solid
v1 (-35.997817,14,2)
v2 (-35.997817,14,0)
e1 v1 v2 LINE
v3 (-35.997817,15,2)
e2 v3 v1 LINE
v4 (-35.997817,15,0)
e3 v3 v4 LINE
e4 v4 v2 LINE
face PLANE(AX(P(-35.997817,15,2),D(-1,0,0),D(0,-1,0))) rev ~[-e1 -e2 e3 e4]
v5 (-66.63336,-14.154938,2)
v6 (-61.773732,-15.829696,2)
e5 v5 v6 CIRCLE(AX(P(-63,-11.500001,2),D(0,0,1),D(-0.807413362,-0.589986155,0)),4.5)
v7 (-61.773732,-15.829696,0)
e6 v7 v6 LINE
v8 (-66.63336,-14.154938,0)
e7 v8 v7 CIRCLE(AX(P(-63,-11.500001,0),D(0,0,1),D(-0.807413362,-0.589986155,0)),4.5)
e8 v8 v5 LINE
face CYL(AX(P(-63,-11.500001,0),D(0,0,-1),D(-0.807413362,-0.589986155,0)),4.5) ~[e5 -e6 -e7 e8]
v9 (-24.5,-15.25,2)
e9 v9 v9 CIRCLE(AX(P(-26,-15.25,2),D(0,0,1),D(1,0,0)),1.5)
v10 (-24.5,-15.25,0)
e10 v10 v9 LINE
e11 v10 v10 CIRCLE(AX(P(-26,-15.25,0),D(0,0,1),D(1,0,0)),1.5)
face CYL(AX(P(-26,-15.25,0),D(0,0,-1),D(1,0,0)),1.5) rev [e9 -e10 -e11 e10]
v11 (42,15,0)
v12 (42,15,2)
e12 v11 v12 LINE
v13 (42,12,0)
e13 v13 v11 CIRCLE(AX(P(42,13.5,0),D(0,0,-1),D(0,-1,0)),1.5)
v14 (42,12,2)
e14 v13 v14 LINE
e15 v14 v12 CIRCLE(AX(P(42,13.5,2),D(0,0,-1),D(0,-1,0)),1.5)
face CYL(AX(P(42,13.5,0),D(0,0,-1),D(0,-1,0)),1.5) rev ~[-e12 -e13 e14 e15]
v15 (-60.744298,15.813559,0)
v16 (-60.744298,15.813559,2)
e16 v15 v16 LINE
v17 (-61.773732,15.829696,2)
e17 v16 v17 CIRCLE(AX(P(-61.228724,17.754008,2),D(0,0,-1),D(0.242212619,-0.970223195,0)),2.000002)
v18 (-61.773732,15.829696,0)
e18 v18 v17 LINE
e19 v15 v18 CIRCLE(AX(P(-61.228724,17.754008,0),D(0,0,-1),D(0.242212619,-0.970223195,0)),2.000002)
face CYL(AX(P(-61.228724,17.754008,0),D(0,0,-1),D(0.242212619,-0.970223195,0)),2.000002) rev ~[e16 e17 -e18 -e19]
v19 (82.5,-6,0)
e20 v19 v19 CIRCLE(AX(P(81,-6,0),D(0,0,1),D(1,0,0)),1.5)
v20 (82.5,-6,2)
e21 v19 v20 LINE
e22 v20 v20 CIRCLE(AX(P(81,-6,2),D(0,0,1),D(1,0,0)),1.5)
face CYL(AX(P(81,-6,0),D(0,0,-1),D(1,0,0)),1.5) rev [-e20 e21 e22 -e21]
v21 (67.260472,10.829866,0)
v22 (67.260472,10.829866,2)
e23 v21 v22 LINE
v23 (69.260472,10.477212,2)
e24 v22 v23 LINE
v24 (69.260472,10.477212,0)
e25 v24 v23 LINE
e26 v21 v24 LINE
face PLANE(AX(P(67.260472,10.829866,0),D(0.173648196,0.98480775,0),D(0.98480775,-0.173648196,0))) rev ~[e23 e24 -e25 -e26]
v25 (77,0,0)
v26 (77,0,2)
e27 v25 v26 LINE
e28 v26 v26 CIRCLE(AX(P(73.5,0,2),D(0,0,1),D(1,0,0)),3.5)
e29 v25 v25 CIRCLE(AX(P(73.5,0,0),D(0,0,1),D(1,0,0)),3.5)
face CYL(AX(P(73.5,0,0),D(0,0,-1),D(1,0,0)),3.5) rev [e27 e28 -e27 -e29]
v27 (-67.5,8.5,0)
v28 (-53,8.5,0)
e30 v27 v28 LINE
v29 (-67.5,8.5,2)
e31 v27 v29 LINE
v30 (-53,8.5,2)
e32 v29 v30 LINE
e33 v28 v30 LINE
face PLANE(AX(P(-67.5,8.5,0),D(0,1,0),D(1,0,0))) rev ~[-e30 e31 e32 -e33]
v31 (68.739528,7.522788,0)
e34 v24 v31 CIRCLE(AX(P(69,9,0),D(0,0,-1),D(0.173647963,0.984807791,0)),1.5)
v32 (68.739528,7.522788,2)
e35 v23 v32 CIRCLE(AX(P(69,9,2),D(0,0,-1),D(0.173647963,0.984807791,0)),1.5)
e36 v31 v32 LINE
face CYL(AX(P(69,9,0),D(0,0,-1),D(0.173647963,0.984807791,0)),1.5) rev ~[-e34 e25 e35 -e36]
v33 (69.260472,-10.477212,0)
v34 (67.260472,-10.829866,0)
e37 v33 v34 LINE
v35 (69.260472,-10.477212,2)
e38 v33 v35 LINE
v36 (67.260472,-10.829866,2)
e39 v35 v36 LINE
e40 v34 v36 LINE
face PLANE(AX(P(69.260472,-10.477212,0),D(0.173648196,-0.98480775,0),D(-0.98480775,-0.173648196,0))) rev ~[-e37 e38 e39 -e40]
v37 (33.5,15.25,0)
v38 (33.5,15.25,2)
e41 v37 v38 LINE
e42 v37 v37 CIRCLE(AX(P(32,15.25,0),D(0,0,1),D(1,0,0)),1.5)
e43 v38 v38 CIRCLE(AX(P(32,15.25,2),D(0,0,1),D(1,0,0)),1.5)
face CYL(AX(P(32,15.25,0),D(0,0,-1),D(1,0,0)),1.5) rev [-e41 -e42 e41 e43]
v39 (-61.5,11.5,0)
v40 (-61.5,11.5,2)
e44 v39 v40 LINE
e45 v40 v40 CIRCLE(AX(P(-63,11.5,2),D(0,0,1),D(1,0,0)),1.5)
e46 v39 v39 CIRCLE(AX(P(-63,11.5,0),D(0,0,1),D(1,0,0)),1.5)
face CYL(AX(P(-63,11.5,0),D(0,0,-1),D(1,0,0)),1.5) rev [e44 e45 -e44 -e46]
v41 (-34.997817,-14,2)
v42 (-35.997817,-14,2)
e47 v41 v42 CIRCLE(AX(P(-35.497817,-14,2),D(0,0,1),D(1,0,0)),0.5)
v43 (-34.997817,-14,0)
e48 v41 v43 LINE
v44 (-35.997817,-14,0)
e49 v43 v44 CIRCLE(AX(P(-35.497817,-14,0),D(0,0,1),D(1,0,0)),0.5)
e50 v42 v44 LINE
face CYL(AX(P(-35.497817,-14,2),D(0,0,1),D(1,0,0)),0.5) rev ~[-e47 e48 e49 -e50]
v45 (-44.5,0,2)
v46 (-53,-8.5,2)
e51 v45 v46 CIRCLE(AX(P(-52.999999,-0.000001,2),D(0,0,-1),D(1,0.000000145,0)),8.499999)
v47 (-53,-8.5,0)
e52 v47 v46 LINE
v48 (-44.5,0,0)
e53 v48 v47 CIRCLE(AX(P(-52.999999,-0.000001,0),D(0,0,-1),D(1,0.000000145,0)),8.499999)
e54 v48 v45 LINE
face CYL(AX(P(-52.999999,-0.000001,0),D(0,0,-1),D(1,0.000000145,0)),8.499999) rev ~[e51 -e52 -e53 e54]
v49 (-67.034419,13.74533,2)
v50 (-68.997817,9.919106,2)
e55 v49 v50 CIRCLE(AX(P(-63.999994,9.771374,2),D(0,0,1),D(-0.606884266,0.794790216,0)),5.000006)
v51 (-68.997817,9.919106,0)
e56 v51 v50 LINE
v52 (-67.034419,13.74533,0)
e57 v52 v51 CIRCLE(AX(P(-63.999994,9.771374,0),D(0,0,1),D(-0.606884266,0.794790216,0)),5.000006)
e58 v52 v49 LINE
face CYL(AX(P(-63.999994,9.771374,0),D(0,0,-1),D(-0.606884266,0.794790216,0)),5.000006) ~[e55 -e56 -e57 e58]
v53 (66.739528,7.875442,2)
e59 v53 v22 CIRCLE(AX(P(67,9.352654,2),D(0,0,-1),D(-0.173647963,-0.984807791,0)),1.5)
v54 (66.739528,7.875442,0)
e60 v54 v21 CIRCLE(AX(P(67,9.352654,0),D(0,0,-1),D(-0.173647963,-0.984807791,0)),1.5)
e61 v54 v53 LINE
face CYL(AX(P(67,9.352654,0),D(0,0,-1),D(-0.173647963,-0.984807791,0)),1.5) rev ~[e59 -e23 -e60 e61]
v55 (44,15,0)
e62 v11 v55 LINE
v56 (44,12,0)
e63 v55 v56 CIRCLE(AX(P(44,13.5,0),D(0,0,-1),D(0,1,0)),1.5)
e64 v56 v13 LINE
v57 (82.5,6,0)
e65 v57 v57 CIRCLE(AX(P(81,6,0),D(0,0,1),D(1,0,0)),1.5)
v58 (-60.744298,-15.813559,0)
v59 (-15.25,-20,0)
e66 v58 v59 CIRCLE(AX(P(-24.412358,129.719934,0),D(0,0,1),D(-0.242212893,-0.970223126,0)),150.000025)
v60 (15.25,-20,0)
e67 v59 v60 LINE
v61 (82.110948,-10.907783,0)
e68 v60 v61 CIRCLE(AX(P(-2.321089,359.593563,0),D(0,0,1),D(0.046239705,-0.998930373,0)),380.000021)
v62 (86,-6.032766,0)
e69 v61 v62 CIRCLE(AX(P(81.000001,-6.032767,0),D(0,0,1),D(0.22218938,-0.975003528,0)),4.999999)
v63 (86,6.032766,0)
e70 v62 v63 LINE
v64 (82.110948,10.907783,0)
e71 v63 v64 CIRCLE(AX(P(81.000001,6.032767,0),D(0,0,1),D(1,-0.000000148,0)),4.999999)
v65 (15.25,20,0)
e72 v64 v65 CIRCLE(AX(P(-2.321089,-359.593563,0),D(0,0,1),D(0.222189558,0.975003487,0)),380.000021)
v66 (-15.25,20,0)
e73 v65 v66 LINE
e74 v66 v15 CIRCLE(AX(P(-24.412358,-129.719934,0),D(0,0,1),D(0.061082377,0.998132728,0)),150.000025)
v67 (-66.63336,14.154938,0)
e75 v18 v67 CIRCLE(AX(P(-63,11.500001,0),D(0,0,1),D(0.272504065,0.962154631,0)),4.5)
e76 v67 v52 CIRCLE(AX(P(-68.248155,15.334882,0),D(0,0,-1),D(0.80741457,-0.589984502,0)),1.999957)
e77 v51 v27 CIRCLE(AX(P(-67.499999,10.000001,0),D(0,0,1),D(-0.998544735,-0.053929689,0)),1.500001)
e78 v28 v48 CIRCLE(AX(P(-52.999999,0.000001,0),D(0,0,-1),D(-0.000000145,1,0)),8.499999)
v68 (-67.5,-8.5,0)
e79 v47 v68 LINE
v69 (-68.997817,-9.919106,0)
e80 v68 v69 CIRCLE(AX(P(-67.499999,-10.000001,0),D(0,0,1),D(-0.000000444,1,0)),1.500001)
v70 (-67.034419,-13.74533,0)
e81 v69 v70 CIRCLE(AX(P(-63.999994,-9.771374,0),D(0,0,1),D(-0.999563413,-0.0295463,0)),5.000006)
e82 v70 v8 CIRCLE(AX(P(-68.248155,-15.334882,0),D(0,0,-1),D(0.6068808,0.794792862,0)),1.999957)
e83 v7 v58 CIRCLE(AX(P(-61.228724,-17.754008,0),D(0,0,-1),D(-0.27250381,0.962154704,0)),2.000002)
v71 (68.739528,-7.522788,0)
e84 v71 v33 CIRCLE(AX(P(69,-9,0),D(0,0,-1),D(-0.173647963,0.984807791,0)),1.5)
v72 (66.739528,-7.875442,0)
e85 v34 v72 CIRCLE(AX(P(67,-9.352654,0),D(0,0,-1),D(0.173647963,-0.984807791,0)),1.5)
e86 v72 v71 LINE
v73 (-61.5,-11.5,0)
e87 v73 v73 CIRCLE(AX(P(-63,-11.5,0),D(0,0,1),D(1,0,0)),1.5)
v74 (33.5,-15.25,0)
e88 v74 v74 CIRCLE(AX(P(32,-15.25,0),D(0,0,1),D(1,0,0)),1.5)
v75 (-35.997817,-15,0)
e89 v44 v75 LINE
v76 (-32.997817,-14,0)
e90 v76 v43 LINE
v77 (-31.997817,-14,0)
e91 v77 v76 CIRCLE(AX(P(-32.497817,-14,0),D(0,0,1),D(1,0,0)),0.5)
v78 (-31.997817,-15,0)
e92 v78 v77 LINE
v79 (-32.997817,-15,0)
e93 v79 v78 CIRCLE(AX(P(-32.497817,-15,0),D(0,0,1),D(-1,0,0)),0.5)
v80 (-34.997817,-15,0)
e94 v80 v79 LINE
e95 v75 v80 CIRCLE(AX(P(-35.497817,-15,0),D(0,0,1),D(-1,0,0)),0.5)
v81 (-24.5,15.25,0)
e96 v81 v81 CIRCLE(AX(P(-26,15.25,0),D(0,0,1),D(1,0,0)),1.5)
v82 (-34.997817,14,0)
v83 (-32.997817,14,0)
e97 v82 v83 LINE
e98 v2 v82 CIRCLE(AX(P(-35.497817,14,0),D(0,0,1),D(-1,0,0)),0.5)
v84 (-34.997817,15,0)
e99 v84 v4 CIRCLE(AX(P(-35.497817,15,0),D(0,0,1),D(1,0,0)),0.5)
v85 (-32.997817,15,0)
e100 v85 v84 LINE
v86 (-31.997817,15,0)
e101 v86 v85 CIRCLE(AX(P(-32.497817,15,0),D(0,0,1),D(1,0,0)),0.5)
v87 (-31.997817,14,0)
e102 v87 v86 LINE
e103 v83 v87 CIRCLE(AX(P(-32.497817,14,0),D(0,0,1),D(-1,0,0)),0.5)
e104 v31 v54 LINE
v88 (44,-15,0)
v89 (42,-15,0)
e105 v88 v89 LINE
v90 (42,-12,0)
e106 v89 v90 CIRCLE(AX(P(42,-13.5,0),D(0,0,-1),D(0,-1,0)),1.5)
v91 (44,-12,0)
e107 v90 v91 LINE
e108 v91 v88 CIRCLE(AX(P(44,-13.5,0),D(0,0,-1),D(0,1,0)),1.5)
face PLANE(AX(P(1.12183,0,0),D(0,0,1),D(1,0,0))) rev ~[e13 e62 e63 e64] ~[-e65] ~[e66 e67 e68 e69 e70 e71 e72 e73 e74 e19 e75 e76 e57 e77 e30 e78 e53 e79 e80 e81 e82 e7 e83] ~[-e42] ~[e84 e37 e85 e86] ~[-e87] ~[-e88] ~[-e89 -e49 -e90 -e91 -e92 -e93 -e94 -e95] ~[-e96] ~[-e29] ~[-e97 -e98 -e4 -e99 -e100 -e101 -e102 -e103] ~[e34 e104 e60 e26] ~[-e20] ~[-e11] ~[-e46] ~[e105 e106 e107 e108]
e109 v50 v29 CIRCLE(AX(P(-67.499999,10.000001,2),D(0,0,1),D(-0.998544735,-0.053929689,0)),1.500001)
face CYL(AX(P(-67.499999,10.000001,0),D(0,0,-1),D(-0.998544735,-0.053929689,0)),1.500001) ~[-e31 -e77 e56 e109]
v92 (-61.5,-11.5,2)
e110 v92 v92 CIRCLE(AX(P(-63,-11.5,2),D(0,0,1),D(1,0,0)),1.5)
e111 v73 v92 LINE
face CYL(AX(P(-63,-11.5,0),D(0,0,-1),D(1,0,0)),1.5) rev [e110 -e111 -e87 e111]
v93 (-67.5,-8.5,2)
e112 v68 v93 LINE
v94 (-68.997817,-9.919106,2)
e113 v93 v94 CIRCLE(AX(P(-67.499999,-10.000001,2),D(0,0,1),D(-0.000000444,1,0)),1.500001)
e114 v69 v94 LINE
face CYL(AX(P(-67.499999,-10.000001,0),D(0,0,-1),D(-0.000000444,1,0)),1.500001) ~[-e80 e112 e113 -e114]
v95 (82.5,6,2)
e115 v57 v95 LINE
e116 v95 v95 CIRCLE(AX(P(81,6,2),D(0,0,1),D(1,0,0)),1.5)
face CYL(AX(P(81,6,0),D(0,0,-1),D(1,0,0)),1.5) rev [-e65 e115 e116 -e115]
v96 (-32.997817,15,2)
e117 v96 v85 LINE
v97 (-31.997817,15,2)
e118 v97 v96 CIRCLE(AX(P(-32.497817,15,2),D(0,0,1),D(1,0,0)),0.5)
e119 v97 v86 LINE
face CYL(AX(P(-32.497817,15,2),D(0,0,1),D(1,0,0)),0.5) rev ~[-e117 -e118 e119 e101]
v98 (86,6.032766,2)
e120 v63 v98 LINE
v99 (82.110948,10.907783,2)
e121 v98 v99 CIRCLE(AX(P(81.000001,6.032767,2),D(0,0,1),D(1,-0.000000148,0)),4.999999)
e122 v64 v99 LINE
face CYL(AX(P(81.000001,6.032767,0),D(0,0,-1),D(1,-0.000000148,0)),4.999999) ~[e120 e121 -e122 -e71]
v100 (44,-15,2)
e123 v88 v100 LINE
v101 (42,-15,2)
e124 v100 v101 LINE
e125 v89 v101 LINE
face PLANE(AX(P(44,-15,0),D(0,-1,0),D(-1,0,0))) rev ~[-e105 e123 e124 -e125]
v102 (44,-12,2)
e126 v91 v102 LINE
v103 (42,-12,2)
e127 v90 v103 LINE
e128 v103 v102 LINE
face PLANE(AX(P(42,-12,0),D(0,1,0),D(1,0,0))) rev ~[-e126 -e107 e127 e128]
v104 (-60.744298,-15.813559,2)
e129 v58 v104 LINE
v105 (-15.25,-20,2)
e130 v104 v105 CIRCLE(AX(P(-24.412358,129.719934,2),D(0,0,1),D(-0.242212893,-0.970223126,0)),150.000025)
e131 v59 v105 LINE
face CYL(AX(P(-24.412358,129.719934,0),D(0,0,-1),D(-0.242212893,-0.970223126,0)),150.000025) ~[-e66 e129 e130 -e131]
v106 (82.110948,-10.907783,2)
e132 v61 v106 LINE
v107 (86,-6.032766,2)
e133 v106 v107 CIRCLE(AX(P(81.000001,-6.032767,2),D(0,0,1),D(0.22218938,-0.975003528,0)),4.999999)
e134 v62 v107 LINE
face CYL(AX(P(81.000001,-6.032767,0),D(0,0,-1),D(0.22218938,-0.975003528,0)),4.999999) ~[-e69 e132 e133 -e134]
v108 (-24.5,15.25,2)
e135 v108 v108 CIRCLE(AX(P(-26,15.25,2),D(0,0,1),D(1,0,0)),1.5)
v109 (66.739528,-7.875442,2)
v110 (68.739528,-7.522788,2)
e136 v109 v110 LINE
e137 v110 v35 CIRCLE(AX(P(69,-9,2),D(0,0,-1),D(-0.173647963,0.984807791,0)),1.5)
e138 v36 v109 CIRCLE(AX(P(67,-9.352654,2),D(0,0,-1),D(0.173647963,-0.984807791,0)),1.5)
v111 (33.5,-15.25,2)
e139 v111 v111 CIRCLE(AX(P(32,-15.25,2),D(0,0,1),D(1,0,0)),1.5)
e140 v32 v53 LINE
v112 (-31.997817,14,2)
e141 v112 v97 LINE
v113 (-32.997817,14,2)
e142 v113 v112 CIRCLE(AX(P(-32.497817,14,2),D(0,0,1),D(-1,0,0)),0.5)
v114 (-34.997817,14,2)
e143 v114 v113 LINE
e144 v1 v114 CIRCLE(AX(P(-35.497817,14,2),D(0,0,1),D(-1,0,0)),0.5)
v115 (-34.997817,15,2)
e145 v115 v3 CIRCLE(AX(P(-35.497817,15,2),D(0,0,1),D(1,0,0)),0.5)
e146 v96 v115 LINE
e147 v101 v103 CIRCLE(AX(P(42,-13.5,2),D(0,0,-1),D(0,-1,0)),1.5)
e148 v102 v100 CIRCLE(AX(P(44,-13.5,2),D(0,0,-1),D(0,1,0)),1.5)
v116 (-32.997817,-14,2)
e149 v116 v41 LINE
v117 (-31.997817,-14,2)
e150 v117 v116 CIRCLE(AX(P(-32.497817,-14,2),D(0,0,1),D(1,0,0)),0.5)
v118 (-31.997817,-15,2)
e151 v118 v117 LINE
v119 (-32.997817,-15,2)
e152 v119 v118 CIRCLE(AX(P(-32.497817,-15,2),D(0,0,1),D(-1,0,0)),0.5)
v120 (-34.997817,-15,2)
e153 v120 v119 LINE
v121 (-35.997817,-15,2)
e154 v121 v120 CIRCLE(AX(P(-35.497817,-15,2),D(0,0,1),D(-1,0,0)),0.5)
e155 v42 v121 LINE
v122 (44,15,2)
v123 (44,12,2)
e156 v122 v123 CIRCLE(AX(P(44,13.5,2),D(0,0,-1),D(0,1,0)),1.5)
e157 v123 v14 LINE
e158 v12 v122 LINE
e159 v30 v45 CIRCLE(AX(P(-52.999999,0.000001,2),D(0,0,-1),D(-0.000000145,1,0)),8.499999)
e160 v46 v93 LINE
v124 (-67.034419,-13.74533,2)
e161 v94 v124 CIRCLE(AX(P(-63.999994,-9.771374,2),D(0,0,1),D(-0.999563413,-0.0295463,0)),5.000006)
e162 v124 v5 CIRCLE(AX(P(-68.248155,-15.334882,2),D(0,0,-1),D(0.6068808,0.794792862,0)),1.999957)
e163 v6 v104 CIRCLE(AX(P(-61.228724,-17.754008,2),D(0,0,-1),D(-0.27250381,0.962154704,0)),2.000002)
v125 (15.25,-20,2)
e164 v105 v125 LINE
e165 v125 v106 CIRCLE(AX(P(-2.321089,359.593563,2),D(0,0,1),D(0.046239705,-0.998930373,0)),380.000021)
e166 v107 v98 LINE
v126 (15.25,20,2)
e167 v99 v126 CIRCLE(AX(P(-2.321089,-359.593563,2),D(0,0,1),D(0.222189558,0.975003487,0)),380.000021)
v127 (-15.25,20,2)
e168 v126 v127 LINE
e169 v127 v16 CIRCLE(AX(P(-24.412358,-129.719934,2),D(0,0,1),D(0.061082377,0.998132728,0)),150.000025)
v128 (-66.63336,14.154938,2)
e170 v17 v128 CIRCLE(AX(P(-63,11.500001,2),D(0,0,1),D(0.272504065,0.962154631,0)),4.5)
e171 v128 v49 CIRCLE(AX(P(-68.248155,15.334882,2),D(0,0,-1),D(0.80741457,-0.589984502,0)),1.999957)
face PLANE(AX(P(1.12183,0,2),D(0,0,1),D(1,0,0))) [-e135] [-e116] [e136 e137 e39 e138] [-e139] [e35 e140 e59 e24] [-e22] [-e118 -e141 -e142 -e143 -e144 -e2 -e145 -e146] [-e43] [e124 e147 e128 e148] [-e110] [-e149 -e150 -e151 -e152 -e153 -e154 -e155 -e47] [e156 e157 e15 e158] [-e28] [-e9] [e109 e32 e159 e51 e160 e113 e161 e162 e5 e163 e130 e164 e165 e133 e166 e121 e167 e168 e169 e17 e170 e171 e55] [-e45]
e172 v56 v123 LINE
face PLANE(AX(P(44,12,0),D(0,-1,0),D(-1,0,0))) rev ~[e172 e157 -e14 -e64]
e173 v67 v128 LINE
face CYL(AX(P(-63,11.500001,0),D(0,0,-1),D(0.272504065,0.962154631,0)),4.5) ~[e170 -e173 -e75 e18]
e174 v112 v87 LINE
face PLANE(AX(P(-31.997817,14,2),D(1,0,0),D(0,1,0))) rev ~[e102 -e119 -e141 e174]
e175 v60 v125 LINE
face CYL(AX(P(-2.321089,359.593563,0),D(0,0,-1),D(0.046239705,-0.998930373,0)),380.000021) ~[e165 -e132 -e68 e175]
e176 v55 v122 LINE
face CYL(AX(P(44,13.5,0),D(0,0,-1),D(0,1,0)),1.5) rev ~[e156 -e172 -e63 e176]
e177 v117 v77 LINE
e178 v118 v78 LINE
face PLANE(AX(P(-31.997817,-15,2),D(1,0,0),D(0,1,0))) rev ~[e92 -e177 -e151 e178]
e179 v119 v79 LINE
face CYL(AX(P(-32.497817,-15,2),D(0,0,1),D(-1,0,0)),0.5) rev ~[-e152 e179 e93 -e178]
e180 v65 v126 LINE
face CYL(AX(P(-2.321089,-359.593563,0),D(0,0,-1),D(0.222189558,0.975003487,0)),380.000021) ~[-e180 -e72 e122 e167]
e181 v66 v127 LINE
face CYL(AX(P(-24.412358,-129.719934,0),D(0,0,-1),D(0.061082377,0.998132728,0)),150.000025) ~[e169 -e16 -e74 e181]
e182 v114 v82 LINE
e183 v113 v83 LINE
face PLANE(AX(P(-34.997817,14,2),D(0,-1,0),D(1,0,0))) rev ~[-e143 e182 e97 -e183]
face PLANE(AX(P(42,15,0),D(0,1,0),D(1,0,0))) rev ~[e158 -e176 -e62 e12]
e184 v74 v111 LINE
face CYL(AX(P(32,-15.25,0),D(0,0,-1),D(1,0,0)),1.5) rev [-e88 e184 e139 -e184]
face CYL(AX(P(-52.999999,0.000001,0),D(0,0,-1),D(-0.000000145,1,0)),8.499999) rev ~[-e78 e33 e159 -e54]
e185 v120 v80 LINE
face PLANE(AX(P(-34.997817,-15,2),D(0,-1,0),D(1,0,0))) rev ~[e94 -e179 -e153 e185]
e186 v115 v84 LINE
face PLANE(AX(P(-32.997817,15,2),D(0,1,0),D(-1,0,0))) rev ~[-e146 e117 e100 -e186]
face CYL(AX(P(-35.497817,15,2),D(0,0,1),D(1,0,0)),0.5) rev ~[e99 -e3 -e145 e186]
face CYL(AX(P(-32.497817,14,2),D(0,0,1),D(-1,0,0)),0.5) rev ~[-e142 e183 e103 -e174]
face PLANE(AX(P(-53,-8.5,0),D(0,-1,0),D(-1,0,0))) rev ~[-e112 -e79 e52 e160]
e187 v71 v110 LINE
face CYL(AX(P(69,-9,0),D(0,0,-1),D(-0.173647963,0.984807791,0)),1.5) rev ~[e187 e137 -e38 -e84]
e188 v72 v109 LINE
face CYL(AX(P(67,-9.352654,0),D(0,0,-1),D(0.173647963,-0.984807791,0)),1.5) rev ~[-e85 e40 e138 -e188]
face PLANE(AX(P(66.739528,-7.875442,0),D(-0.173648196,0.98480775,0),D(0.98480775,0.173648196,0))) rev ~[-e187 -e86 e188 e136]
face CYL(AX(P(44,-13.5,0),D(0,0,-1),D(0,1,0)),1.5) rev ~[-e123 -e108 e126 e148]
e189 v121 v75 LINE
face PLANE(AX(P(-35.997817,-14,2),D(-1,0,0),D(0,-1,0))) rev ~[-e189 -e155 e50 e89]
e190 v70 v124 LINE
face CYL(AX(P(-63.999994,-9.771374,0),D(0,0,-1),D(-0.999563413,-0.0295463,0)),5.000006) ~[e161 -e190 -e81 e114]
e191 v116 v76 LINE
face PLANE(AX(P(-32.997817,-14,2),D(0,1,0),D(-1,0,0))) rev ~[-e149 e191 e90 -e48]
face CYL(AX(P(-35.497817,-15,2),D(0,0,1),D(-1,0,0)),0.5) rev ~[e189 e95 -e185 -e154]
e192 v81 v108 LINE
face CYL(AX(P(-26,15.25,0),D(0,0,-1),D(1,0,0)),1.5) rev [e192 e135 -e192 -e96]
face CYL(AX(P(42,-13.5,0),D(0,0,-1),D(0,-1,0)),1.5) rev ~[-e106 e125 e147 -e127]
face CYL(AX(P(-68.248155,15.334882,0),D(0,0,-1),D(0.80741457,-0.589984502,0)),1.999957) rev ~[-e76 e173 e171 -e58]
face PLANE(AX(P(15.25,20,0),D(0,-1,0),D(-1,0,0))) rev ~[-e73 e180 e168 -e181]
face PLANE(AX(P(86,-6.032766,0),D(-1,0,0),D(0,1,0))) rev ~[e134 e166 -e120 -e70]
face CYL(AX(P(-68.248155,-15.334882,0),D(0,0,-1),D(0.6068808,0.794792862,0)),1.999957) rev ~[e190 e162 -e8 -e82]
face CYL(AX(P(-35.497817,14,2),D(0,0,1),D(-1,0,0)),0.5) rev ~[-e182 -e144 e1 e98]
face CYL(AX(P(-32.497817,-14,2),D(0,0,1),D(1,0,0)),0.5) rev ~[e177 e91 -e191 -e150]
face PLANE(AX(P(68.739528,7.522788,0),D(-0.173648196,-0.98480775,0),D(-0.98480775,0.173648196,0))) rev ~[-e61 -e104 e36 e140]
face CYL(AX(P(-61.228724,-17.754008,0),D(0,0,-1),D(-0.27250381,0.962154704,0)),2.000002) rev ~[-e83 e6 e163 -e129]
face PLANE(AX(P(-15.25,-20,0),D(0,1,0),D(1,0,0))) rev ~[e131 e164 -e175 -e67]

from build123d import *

# Parameters (mm, degrees)
F0_R     = 1.5
F0_R_2   = 3.5
F1_DEPTH = 2
F3_DEPTH = 25


with BuildPart() as f1:
    # F0 (on Top) → F1 (new body)
    with BuildSketch(Plane.XY):
        with BuildLine():
            ThreePointArc((-67.034419, 13.74533), (-68.448505, 12.054094), (-68.997817, 9.919106))
            ThreePointArc((-68.997817, 9.919106), (-68.531663, 8.911115), (-67.5, 8.5))
            Line((-67.5, 8.5), (-53, 8.5))
            ThreePointArc((-53, 8.5), (-46.989592, 6.010408), (-44.5, 0))
            ThreePointArc((-44.5, 0), (-46.989592, -6.010408), (-53, -8.5))
            Line((-53, -8.5), (-67.5, -8.5))
            ThreePointArc((-67.5, -8.5), (-68.531663, -8.911115), (-68.997817, -9.919106))
            ThreePointArc((-68.997817, -9.919106), (-68.448505, -12.054094), (-67.034419, -13.74533))
            ThreePointArc((-67.034419, -13.74533), (-66.819137, -13.93569), (-66.63336, -14.154938))
            ThreePointArc((-66.63336, -14.154938), (-64.466194, -15.754442), (-61.773732, -15.829696))
            ThreePointArc((-61.773732, -15.829696), (-61.260071, -15.754251), (-60.744298, -15.813559))
            ThreePointArc((-60.744298, -15.813559), (-38.15747, -19.649003), (-15.25, -20))
            Line((-15.25, -20), (15.25, -20))
            ThreePointArc((15.25, -20), (48.882685, -16.940884), (82.110948, -10.907783))
            ThreePointArc((82.110948, -10.907783), (84.908628, -9.150879), (86, -6.032766))
            Line((86, -6.032766), (86, 0))
            Line((86, 0), (86, 6.032766))
            ThreePointArc((86, 6.032766), (84.908628, 9.150879), (82.110948, 10.907783))
            ThreePointArc((82.110948, 10.907783), (48.882685, 16.940884), (15.25, 20))
            Line((15.25, 20), (-15.25, 20))
            ThreePointArc((-15.25, 20), (-38.15747, 19.649003), (-60.744298, 15.813559))
            ThreePointArc((-60.744298, 15.813559), (-61.260071, 15.754251), (-61.773732, 15.829696))
            ThreePointArc((-61.773732, 15.829696), (-64.466194, 15.754442), (-66.63336, 14.154938))
            ThreePointArc((-66.63336, 14.154938), (-66.819137, 13.93569), (-67.034419, 13.74533))
        make_face()
        with Locations((-63, -11.5)):
            Circle(F0_R, mode=Mode.SUBTRACT)
        with Locations((-26, -15.25)):
            Circle(F0_R, mode=Mode.SUBTRACT)
        with Locations((32, -15.25)):
            Circle(F0_R, mode=Mode.SUBTRACT)
        with BuildLine():
            Line((42, -12), (44, -12))
            ThreePointArc((44, -12), (45.5, -13.5), (44, -15))
            Line((44, -15), (42, -15))
            ThreePointArc((42, -15), (40.5, -13.5), (42, -12))
        make_face(mode=Mode.SUBTRACT)
        with BuildLine():
            Line((66.739528, -7.875442), (68.739528, -7.522788))
            ThreePointArc((68.739528, -7.522788), (70.477212, -8.739528), (69.260472, -10.477212))
            Line((69.260472, -10.477212), (67.260472, -10.829866))
            ThreePointArc((67.260472, -10.829866), (65.522788, -9.613126), (66.739528, -7.875442))
        make_face(mode=Mode.SUBTRACT)
        with Locations((81, -6)):
            Circle(F0_R, mode=Mode.SUBTRACT)
        with Locations((-63, 11.5)):
            Circle(F0_R, mode=Mode.SUBTRACT)
        with Locations((-26, 15.25)):
            Circle(F0_R, mode=Mode.SUBTRACT)
        with Locations((73.5, 0)):
            Circle(F0_R_2, mode=Mode.SUBTRACT)
        with Locations((81, 6)):
            Circle(F0_R, mode=Mode.SUBTRACT)
        with BuildLine():
            ThreePointArc((66.739528, 7.875442), (65.522788, 9.613126), (67.260472, 10.829866))
            Line((67.260472, 10.829866), (69.260472, 10.477212))
            ThreePointArc((69.260472, 10.477212), (70.477212, 8.739528), (68.739528, 7.522788))
            Line((68.739528, 7.522788), (66.739528, 7.875442))
        make_face(mode=Mode.SUBTRACT)
        with BuildLine():
            ThreePointArc((42, 12), (40.5, 13.5), (42, 15))
            Line((42, 15), (44, 15))
            ThreePointArc((44, 15), (45.5, 13.5), (44, 12))
            Line((44, 12), (42, 12))
        make_face(mode=Mode.SUBTRACT)
        with Locations((32, 15.25)):
            Circle(F0_R, mode=Mode.SUBTRACT)
    extrude(amount=F1_DEPTH)

    # F2 (on face) → F3 (cut)
    with BuildSketch(Plane.XY.offset(2)):
        with BuildLine():
            Line((-32.997817, 15), (-34.997817, 15))
            ThreePointArc((-34.997817, 15), (-35.497817, 15.5), (-35.997817, 15))
            Line((-35.997817, 15), (-35.997817, 14))
            ThreePointArc((-35.997817, 14), (-35.497817, 13.5), (-34.997817, 14))
            Line((-34.997817, 14), (-32.997817, 14))
            ThreePointArc((-32.997817, 14), (-32.497817, 13.5), (-31.997817, 14))
            Line((-31.997817, 14), (-31.997817, 15))
            ThreePointArc((-31.997817, 15), (-32.497817, 15.5), (-32.997817, 15))
        make_face()
        with BuildLine():
            Line((-35.997817, -14), (-35.997817, -15))
            ThreePointArc((-35.997817, -15), (-35.497817, -15.5), (-34.997817, -15))
            Line((-34.997817, -15), (-32.997817, -15))
            ThreePointArc((-32.997817, -15), (-32.497817, -15.5), (-31.997817, -15))
            Line((-31.997817, -15), (-31.997817, -14))
            ThreePointArc((-31.997817, -14), (-32.497817, -13.5), (-32.997817, -14))
            Line((-32.997817, -14), (-34.997817, -14))
            ThreePointArc((-34.997817, -14), (-35.497817, -13.5), (-35.997817, -14))
        make_face()
    extrude(amount=-F3_DEPTH, mode=Mode.SUBTRACT)


solid = f1.part
